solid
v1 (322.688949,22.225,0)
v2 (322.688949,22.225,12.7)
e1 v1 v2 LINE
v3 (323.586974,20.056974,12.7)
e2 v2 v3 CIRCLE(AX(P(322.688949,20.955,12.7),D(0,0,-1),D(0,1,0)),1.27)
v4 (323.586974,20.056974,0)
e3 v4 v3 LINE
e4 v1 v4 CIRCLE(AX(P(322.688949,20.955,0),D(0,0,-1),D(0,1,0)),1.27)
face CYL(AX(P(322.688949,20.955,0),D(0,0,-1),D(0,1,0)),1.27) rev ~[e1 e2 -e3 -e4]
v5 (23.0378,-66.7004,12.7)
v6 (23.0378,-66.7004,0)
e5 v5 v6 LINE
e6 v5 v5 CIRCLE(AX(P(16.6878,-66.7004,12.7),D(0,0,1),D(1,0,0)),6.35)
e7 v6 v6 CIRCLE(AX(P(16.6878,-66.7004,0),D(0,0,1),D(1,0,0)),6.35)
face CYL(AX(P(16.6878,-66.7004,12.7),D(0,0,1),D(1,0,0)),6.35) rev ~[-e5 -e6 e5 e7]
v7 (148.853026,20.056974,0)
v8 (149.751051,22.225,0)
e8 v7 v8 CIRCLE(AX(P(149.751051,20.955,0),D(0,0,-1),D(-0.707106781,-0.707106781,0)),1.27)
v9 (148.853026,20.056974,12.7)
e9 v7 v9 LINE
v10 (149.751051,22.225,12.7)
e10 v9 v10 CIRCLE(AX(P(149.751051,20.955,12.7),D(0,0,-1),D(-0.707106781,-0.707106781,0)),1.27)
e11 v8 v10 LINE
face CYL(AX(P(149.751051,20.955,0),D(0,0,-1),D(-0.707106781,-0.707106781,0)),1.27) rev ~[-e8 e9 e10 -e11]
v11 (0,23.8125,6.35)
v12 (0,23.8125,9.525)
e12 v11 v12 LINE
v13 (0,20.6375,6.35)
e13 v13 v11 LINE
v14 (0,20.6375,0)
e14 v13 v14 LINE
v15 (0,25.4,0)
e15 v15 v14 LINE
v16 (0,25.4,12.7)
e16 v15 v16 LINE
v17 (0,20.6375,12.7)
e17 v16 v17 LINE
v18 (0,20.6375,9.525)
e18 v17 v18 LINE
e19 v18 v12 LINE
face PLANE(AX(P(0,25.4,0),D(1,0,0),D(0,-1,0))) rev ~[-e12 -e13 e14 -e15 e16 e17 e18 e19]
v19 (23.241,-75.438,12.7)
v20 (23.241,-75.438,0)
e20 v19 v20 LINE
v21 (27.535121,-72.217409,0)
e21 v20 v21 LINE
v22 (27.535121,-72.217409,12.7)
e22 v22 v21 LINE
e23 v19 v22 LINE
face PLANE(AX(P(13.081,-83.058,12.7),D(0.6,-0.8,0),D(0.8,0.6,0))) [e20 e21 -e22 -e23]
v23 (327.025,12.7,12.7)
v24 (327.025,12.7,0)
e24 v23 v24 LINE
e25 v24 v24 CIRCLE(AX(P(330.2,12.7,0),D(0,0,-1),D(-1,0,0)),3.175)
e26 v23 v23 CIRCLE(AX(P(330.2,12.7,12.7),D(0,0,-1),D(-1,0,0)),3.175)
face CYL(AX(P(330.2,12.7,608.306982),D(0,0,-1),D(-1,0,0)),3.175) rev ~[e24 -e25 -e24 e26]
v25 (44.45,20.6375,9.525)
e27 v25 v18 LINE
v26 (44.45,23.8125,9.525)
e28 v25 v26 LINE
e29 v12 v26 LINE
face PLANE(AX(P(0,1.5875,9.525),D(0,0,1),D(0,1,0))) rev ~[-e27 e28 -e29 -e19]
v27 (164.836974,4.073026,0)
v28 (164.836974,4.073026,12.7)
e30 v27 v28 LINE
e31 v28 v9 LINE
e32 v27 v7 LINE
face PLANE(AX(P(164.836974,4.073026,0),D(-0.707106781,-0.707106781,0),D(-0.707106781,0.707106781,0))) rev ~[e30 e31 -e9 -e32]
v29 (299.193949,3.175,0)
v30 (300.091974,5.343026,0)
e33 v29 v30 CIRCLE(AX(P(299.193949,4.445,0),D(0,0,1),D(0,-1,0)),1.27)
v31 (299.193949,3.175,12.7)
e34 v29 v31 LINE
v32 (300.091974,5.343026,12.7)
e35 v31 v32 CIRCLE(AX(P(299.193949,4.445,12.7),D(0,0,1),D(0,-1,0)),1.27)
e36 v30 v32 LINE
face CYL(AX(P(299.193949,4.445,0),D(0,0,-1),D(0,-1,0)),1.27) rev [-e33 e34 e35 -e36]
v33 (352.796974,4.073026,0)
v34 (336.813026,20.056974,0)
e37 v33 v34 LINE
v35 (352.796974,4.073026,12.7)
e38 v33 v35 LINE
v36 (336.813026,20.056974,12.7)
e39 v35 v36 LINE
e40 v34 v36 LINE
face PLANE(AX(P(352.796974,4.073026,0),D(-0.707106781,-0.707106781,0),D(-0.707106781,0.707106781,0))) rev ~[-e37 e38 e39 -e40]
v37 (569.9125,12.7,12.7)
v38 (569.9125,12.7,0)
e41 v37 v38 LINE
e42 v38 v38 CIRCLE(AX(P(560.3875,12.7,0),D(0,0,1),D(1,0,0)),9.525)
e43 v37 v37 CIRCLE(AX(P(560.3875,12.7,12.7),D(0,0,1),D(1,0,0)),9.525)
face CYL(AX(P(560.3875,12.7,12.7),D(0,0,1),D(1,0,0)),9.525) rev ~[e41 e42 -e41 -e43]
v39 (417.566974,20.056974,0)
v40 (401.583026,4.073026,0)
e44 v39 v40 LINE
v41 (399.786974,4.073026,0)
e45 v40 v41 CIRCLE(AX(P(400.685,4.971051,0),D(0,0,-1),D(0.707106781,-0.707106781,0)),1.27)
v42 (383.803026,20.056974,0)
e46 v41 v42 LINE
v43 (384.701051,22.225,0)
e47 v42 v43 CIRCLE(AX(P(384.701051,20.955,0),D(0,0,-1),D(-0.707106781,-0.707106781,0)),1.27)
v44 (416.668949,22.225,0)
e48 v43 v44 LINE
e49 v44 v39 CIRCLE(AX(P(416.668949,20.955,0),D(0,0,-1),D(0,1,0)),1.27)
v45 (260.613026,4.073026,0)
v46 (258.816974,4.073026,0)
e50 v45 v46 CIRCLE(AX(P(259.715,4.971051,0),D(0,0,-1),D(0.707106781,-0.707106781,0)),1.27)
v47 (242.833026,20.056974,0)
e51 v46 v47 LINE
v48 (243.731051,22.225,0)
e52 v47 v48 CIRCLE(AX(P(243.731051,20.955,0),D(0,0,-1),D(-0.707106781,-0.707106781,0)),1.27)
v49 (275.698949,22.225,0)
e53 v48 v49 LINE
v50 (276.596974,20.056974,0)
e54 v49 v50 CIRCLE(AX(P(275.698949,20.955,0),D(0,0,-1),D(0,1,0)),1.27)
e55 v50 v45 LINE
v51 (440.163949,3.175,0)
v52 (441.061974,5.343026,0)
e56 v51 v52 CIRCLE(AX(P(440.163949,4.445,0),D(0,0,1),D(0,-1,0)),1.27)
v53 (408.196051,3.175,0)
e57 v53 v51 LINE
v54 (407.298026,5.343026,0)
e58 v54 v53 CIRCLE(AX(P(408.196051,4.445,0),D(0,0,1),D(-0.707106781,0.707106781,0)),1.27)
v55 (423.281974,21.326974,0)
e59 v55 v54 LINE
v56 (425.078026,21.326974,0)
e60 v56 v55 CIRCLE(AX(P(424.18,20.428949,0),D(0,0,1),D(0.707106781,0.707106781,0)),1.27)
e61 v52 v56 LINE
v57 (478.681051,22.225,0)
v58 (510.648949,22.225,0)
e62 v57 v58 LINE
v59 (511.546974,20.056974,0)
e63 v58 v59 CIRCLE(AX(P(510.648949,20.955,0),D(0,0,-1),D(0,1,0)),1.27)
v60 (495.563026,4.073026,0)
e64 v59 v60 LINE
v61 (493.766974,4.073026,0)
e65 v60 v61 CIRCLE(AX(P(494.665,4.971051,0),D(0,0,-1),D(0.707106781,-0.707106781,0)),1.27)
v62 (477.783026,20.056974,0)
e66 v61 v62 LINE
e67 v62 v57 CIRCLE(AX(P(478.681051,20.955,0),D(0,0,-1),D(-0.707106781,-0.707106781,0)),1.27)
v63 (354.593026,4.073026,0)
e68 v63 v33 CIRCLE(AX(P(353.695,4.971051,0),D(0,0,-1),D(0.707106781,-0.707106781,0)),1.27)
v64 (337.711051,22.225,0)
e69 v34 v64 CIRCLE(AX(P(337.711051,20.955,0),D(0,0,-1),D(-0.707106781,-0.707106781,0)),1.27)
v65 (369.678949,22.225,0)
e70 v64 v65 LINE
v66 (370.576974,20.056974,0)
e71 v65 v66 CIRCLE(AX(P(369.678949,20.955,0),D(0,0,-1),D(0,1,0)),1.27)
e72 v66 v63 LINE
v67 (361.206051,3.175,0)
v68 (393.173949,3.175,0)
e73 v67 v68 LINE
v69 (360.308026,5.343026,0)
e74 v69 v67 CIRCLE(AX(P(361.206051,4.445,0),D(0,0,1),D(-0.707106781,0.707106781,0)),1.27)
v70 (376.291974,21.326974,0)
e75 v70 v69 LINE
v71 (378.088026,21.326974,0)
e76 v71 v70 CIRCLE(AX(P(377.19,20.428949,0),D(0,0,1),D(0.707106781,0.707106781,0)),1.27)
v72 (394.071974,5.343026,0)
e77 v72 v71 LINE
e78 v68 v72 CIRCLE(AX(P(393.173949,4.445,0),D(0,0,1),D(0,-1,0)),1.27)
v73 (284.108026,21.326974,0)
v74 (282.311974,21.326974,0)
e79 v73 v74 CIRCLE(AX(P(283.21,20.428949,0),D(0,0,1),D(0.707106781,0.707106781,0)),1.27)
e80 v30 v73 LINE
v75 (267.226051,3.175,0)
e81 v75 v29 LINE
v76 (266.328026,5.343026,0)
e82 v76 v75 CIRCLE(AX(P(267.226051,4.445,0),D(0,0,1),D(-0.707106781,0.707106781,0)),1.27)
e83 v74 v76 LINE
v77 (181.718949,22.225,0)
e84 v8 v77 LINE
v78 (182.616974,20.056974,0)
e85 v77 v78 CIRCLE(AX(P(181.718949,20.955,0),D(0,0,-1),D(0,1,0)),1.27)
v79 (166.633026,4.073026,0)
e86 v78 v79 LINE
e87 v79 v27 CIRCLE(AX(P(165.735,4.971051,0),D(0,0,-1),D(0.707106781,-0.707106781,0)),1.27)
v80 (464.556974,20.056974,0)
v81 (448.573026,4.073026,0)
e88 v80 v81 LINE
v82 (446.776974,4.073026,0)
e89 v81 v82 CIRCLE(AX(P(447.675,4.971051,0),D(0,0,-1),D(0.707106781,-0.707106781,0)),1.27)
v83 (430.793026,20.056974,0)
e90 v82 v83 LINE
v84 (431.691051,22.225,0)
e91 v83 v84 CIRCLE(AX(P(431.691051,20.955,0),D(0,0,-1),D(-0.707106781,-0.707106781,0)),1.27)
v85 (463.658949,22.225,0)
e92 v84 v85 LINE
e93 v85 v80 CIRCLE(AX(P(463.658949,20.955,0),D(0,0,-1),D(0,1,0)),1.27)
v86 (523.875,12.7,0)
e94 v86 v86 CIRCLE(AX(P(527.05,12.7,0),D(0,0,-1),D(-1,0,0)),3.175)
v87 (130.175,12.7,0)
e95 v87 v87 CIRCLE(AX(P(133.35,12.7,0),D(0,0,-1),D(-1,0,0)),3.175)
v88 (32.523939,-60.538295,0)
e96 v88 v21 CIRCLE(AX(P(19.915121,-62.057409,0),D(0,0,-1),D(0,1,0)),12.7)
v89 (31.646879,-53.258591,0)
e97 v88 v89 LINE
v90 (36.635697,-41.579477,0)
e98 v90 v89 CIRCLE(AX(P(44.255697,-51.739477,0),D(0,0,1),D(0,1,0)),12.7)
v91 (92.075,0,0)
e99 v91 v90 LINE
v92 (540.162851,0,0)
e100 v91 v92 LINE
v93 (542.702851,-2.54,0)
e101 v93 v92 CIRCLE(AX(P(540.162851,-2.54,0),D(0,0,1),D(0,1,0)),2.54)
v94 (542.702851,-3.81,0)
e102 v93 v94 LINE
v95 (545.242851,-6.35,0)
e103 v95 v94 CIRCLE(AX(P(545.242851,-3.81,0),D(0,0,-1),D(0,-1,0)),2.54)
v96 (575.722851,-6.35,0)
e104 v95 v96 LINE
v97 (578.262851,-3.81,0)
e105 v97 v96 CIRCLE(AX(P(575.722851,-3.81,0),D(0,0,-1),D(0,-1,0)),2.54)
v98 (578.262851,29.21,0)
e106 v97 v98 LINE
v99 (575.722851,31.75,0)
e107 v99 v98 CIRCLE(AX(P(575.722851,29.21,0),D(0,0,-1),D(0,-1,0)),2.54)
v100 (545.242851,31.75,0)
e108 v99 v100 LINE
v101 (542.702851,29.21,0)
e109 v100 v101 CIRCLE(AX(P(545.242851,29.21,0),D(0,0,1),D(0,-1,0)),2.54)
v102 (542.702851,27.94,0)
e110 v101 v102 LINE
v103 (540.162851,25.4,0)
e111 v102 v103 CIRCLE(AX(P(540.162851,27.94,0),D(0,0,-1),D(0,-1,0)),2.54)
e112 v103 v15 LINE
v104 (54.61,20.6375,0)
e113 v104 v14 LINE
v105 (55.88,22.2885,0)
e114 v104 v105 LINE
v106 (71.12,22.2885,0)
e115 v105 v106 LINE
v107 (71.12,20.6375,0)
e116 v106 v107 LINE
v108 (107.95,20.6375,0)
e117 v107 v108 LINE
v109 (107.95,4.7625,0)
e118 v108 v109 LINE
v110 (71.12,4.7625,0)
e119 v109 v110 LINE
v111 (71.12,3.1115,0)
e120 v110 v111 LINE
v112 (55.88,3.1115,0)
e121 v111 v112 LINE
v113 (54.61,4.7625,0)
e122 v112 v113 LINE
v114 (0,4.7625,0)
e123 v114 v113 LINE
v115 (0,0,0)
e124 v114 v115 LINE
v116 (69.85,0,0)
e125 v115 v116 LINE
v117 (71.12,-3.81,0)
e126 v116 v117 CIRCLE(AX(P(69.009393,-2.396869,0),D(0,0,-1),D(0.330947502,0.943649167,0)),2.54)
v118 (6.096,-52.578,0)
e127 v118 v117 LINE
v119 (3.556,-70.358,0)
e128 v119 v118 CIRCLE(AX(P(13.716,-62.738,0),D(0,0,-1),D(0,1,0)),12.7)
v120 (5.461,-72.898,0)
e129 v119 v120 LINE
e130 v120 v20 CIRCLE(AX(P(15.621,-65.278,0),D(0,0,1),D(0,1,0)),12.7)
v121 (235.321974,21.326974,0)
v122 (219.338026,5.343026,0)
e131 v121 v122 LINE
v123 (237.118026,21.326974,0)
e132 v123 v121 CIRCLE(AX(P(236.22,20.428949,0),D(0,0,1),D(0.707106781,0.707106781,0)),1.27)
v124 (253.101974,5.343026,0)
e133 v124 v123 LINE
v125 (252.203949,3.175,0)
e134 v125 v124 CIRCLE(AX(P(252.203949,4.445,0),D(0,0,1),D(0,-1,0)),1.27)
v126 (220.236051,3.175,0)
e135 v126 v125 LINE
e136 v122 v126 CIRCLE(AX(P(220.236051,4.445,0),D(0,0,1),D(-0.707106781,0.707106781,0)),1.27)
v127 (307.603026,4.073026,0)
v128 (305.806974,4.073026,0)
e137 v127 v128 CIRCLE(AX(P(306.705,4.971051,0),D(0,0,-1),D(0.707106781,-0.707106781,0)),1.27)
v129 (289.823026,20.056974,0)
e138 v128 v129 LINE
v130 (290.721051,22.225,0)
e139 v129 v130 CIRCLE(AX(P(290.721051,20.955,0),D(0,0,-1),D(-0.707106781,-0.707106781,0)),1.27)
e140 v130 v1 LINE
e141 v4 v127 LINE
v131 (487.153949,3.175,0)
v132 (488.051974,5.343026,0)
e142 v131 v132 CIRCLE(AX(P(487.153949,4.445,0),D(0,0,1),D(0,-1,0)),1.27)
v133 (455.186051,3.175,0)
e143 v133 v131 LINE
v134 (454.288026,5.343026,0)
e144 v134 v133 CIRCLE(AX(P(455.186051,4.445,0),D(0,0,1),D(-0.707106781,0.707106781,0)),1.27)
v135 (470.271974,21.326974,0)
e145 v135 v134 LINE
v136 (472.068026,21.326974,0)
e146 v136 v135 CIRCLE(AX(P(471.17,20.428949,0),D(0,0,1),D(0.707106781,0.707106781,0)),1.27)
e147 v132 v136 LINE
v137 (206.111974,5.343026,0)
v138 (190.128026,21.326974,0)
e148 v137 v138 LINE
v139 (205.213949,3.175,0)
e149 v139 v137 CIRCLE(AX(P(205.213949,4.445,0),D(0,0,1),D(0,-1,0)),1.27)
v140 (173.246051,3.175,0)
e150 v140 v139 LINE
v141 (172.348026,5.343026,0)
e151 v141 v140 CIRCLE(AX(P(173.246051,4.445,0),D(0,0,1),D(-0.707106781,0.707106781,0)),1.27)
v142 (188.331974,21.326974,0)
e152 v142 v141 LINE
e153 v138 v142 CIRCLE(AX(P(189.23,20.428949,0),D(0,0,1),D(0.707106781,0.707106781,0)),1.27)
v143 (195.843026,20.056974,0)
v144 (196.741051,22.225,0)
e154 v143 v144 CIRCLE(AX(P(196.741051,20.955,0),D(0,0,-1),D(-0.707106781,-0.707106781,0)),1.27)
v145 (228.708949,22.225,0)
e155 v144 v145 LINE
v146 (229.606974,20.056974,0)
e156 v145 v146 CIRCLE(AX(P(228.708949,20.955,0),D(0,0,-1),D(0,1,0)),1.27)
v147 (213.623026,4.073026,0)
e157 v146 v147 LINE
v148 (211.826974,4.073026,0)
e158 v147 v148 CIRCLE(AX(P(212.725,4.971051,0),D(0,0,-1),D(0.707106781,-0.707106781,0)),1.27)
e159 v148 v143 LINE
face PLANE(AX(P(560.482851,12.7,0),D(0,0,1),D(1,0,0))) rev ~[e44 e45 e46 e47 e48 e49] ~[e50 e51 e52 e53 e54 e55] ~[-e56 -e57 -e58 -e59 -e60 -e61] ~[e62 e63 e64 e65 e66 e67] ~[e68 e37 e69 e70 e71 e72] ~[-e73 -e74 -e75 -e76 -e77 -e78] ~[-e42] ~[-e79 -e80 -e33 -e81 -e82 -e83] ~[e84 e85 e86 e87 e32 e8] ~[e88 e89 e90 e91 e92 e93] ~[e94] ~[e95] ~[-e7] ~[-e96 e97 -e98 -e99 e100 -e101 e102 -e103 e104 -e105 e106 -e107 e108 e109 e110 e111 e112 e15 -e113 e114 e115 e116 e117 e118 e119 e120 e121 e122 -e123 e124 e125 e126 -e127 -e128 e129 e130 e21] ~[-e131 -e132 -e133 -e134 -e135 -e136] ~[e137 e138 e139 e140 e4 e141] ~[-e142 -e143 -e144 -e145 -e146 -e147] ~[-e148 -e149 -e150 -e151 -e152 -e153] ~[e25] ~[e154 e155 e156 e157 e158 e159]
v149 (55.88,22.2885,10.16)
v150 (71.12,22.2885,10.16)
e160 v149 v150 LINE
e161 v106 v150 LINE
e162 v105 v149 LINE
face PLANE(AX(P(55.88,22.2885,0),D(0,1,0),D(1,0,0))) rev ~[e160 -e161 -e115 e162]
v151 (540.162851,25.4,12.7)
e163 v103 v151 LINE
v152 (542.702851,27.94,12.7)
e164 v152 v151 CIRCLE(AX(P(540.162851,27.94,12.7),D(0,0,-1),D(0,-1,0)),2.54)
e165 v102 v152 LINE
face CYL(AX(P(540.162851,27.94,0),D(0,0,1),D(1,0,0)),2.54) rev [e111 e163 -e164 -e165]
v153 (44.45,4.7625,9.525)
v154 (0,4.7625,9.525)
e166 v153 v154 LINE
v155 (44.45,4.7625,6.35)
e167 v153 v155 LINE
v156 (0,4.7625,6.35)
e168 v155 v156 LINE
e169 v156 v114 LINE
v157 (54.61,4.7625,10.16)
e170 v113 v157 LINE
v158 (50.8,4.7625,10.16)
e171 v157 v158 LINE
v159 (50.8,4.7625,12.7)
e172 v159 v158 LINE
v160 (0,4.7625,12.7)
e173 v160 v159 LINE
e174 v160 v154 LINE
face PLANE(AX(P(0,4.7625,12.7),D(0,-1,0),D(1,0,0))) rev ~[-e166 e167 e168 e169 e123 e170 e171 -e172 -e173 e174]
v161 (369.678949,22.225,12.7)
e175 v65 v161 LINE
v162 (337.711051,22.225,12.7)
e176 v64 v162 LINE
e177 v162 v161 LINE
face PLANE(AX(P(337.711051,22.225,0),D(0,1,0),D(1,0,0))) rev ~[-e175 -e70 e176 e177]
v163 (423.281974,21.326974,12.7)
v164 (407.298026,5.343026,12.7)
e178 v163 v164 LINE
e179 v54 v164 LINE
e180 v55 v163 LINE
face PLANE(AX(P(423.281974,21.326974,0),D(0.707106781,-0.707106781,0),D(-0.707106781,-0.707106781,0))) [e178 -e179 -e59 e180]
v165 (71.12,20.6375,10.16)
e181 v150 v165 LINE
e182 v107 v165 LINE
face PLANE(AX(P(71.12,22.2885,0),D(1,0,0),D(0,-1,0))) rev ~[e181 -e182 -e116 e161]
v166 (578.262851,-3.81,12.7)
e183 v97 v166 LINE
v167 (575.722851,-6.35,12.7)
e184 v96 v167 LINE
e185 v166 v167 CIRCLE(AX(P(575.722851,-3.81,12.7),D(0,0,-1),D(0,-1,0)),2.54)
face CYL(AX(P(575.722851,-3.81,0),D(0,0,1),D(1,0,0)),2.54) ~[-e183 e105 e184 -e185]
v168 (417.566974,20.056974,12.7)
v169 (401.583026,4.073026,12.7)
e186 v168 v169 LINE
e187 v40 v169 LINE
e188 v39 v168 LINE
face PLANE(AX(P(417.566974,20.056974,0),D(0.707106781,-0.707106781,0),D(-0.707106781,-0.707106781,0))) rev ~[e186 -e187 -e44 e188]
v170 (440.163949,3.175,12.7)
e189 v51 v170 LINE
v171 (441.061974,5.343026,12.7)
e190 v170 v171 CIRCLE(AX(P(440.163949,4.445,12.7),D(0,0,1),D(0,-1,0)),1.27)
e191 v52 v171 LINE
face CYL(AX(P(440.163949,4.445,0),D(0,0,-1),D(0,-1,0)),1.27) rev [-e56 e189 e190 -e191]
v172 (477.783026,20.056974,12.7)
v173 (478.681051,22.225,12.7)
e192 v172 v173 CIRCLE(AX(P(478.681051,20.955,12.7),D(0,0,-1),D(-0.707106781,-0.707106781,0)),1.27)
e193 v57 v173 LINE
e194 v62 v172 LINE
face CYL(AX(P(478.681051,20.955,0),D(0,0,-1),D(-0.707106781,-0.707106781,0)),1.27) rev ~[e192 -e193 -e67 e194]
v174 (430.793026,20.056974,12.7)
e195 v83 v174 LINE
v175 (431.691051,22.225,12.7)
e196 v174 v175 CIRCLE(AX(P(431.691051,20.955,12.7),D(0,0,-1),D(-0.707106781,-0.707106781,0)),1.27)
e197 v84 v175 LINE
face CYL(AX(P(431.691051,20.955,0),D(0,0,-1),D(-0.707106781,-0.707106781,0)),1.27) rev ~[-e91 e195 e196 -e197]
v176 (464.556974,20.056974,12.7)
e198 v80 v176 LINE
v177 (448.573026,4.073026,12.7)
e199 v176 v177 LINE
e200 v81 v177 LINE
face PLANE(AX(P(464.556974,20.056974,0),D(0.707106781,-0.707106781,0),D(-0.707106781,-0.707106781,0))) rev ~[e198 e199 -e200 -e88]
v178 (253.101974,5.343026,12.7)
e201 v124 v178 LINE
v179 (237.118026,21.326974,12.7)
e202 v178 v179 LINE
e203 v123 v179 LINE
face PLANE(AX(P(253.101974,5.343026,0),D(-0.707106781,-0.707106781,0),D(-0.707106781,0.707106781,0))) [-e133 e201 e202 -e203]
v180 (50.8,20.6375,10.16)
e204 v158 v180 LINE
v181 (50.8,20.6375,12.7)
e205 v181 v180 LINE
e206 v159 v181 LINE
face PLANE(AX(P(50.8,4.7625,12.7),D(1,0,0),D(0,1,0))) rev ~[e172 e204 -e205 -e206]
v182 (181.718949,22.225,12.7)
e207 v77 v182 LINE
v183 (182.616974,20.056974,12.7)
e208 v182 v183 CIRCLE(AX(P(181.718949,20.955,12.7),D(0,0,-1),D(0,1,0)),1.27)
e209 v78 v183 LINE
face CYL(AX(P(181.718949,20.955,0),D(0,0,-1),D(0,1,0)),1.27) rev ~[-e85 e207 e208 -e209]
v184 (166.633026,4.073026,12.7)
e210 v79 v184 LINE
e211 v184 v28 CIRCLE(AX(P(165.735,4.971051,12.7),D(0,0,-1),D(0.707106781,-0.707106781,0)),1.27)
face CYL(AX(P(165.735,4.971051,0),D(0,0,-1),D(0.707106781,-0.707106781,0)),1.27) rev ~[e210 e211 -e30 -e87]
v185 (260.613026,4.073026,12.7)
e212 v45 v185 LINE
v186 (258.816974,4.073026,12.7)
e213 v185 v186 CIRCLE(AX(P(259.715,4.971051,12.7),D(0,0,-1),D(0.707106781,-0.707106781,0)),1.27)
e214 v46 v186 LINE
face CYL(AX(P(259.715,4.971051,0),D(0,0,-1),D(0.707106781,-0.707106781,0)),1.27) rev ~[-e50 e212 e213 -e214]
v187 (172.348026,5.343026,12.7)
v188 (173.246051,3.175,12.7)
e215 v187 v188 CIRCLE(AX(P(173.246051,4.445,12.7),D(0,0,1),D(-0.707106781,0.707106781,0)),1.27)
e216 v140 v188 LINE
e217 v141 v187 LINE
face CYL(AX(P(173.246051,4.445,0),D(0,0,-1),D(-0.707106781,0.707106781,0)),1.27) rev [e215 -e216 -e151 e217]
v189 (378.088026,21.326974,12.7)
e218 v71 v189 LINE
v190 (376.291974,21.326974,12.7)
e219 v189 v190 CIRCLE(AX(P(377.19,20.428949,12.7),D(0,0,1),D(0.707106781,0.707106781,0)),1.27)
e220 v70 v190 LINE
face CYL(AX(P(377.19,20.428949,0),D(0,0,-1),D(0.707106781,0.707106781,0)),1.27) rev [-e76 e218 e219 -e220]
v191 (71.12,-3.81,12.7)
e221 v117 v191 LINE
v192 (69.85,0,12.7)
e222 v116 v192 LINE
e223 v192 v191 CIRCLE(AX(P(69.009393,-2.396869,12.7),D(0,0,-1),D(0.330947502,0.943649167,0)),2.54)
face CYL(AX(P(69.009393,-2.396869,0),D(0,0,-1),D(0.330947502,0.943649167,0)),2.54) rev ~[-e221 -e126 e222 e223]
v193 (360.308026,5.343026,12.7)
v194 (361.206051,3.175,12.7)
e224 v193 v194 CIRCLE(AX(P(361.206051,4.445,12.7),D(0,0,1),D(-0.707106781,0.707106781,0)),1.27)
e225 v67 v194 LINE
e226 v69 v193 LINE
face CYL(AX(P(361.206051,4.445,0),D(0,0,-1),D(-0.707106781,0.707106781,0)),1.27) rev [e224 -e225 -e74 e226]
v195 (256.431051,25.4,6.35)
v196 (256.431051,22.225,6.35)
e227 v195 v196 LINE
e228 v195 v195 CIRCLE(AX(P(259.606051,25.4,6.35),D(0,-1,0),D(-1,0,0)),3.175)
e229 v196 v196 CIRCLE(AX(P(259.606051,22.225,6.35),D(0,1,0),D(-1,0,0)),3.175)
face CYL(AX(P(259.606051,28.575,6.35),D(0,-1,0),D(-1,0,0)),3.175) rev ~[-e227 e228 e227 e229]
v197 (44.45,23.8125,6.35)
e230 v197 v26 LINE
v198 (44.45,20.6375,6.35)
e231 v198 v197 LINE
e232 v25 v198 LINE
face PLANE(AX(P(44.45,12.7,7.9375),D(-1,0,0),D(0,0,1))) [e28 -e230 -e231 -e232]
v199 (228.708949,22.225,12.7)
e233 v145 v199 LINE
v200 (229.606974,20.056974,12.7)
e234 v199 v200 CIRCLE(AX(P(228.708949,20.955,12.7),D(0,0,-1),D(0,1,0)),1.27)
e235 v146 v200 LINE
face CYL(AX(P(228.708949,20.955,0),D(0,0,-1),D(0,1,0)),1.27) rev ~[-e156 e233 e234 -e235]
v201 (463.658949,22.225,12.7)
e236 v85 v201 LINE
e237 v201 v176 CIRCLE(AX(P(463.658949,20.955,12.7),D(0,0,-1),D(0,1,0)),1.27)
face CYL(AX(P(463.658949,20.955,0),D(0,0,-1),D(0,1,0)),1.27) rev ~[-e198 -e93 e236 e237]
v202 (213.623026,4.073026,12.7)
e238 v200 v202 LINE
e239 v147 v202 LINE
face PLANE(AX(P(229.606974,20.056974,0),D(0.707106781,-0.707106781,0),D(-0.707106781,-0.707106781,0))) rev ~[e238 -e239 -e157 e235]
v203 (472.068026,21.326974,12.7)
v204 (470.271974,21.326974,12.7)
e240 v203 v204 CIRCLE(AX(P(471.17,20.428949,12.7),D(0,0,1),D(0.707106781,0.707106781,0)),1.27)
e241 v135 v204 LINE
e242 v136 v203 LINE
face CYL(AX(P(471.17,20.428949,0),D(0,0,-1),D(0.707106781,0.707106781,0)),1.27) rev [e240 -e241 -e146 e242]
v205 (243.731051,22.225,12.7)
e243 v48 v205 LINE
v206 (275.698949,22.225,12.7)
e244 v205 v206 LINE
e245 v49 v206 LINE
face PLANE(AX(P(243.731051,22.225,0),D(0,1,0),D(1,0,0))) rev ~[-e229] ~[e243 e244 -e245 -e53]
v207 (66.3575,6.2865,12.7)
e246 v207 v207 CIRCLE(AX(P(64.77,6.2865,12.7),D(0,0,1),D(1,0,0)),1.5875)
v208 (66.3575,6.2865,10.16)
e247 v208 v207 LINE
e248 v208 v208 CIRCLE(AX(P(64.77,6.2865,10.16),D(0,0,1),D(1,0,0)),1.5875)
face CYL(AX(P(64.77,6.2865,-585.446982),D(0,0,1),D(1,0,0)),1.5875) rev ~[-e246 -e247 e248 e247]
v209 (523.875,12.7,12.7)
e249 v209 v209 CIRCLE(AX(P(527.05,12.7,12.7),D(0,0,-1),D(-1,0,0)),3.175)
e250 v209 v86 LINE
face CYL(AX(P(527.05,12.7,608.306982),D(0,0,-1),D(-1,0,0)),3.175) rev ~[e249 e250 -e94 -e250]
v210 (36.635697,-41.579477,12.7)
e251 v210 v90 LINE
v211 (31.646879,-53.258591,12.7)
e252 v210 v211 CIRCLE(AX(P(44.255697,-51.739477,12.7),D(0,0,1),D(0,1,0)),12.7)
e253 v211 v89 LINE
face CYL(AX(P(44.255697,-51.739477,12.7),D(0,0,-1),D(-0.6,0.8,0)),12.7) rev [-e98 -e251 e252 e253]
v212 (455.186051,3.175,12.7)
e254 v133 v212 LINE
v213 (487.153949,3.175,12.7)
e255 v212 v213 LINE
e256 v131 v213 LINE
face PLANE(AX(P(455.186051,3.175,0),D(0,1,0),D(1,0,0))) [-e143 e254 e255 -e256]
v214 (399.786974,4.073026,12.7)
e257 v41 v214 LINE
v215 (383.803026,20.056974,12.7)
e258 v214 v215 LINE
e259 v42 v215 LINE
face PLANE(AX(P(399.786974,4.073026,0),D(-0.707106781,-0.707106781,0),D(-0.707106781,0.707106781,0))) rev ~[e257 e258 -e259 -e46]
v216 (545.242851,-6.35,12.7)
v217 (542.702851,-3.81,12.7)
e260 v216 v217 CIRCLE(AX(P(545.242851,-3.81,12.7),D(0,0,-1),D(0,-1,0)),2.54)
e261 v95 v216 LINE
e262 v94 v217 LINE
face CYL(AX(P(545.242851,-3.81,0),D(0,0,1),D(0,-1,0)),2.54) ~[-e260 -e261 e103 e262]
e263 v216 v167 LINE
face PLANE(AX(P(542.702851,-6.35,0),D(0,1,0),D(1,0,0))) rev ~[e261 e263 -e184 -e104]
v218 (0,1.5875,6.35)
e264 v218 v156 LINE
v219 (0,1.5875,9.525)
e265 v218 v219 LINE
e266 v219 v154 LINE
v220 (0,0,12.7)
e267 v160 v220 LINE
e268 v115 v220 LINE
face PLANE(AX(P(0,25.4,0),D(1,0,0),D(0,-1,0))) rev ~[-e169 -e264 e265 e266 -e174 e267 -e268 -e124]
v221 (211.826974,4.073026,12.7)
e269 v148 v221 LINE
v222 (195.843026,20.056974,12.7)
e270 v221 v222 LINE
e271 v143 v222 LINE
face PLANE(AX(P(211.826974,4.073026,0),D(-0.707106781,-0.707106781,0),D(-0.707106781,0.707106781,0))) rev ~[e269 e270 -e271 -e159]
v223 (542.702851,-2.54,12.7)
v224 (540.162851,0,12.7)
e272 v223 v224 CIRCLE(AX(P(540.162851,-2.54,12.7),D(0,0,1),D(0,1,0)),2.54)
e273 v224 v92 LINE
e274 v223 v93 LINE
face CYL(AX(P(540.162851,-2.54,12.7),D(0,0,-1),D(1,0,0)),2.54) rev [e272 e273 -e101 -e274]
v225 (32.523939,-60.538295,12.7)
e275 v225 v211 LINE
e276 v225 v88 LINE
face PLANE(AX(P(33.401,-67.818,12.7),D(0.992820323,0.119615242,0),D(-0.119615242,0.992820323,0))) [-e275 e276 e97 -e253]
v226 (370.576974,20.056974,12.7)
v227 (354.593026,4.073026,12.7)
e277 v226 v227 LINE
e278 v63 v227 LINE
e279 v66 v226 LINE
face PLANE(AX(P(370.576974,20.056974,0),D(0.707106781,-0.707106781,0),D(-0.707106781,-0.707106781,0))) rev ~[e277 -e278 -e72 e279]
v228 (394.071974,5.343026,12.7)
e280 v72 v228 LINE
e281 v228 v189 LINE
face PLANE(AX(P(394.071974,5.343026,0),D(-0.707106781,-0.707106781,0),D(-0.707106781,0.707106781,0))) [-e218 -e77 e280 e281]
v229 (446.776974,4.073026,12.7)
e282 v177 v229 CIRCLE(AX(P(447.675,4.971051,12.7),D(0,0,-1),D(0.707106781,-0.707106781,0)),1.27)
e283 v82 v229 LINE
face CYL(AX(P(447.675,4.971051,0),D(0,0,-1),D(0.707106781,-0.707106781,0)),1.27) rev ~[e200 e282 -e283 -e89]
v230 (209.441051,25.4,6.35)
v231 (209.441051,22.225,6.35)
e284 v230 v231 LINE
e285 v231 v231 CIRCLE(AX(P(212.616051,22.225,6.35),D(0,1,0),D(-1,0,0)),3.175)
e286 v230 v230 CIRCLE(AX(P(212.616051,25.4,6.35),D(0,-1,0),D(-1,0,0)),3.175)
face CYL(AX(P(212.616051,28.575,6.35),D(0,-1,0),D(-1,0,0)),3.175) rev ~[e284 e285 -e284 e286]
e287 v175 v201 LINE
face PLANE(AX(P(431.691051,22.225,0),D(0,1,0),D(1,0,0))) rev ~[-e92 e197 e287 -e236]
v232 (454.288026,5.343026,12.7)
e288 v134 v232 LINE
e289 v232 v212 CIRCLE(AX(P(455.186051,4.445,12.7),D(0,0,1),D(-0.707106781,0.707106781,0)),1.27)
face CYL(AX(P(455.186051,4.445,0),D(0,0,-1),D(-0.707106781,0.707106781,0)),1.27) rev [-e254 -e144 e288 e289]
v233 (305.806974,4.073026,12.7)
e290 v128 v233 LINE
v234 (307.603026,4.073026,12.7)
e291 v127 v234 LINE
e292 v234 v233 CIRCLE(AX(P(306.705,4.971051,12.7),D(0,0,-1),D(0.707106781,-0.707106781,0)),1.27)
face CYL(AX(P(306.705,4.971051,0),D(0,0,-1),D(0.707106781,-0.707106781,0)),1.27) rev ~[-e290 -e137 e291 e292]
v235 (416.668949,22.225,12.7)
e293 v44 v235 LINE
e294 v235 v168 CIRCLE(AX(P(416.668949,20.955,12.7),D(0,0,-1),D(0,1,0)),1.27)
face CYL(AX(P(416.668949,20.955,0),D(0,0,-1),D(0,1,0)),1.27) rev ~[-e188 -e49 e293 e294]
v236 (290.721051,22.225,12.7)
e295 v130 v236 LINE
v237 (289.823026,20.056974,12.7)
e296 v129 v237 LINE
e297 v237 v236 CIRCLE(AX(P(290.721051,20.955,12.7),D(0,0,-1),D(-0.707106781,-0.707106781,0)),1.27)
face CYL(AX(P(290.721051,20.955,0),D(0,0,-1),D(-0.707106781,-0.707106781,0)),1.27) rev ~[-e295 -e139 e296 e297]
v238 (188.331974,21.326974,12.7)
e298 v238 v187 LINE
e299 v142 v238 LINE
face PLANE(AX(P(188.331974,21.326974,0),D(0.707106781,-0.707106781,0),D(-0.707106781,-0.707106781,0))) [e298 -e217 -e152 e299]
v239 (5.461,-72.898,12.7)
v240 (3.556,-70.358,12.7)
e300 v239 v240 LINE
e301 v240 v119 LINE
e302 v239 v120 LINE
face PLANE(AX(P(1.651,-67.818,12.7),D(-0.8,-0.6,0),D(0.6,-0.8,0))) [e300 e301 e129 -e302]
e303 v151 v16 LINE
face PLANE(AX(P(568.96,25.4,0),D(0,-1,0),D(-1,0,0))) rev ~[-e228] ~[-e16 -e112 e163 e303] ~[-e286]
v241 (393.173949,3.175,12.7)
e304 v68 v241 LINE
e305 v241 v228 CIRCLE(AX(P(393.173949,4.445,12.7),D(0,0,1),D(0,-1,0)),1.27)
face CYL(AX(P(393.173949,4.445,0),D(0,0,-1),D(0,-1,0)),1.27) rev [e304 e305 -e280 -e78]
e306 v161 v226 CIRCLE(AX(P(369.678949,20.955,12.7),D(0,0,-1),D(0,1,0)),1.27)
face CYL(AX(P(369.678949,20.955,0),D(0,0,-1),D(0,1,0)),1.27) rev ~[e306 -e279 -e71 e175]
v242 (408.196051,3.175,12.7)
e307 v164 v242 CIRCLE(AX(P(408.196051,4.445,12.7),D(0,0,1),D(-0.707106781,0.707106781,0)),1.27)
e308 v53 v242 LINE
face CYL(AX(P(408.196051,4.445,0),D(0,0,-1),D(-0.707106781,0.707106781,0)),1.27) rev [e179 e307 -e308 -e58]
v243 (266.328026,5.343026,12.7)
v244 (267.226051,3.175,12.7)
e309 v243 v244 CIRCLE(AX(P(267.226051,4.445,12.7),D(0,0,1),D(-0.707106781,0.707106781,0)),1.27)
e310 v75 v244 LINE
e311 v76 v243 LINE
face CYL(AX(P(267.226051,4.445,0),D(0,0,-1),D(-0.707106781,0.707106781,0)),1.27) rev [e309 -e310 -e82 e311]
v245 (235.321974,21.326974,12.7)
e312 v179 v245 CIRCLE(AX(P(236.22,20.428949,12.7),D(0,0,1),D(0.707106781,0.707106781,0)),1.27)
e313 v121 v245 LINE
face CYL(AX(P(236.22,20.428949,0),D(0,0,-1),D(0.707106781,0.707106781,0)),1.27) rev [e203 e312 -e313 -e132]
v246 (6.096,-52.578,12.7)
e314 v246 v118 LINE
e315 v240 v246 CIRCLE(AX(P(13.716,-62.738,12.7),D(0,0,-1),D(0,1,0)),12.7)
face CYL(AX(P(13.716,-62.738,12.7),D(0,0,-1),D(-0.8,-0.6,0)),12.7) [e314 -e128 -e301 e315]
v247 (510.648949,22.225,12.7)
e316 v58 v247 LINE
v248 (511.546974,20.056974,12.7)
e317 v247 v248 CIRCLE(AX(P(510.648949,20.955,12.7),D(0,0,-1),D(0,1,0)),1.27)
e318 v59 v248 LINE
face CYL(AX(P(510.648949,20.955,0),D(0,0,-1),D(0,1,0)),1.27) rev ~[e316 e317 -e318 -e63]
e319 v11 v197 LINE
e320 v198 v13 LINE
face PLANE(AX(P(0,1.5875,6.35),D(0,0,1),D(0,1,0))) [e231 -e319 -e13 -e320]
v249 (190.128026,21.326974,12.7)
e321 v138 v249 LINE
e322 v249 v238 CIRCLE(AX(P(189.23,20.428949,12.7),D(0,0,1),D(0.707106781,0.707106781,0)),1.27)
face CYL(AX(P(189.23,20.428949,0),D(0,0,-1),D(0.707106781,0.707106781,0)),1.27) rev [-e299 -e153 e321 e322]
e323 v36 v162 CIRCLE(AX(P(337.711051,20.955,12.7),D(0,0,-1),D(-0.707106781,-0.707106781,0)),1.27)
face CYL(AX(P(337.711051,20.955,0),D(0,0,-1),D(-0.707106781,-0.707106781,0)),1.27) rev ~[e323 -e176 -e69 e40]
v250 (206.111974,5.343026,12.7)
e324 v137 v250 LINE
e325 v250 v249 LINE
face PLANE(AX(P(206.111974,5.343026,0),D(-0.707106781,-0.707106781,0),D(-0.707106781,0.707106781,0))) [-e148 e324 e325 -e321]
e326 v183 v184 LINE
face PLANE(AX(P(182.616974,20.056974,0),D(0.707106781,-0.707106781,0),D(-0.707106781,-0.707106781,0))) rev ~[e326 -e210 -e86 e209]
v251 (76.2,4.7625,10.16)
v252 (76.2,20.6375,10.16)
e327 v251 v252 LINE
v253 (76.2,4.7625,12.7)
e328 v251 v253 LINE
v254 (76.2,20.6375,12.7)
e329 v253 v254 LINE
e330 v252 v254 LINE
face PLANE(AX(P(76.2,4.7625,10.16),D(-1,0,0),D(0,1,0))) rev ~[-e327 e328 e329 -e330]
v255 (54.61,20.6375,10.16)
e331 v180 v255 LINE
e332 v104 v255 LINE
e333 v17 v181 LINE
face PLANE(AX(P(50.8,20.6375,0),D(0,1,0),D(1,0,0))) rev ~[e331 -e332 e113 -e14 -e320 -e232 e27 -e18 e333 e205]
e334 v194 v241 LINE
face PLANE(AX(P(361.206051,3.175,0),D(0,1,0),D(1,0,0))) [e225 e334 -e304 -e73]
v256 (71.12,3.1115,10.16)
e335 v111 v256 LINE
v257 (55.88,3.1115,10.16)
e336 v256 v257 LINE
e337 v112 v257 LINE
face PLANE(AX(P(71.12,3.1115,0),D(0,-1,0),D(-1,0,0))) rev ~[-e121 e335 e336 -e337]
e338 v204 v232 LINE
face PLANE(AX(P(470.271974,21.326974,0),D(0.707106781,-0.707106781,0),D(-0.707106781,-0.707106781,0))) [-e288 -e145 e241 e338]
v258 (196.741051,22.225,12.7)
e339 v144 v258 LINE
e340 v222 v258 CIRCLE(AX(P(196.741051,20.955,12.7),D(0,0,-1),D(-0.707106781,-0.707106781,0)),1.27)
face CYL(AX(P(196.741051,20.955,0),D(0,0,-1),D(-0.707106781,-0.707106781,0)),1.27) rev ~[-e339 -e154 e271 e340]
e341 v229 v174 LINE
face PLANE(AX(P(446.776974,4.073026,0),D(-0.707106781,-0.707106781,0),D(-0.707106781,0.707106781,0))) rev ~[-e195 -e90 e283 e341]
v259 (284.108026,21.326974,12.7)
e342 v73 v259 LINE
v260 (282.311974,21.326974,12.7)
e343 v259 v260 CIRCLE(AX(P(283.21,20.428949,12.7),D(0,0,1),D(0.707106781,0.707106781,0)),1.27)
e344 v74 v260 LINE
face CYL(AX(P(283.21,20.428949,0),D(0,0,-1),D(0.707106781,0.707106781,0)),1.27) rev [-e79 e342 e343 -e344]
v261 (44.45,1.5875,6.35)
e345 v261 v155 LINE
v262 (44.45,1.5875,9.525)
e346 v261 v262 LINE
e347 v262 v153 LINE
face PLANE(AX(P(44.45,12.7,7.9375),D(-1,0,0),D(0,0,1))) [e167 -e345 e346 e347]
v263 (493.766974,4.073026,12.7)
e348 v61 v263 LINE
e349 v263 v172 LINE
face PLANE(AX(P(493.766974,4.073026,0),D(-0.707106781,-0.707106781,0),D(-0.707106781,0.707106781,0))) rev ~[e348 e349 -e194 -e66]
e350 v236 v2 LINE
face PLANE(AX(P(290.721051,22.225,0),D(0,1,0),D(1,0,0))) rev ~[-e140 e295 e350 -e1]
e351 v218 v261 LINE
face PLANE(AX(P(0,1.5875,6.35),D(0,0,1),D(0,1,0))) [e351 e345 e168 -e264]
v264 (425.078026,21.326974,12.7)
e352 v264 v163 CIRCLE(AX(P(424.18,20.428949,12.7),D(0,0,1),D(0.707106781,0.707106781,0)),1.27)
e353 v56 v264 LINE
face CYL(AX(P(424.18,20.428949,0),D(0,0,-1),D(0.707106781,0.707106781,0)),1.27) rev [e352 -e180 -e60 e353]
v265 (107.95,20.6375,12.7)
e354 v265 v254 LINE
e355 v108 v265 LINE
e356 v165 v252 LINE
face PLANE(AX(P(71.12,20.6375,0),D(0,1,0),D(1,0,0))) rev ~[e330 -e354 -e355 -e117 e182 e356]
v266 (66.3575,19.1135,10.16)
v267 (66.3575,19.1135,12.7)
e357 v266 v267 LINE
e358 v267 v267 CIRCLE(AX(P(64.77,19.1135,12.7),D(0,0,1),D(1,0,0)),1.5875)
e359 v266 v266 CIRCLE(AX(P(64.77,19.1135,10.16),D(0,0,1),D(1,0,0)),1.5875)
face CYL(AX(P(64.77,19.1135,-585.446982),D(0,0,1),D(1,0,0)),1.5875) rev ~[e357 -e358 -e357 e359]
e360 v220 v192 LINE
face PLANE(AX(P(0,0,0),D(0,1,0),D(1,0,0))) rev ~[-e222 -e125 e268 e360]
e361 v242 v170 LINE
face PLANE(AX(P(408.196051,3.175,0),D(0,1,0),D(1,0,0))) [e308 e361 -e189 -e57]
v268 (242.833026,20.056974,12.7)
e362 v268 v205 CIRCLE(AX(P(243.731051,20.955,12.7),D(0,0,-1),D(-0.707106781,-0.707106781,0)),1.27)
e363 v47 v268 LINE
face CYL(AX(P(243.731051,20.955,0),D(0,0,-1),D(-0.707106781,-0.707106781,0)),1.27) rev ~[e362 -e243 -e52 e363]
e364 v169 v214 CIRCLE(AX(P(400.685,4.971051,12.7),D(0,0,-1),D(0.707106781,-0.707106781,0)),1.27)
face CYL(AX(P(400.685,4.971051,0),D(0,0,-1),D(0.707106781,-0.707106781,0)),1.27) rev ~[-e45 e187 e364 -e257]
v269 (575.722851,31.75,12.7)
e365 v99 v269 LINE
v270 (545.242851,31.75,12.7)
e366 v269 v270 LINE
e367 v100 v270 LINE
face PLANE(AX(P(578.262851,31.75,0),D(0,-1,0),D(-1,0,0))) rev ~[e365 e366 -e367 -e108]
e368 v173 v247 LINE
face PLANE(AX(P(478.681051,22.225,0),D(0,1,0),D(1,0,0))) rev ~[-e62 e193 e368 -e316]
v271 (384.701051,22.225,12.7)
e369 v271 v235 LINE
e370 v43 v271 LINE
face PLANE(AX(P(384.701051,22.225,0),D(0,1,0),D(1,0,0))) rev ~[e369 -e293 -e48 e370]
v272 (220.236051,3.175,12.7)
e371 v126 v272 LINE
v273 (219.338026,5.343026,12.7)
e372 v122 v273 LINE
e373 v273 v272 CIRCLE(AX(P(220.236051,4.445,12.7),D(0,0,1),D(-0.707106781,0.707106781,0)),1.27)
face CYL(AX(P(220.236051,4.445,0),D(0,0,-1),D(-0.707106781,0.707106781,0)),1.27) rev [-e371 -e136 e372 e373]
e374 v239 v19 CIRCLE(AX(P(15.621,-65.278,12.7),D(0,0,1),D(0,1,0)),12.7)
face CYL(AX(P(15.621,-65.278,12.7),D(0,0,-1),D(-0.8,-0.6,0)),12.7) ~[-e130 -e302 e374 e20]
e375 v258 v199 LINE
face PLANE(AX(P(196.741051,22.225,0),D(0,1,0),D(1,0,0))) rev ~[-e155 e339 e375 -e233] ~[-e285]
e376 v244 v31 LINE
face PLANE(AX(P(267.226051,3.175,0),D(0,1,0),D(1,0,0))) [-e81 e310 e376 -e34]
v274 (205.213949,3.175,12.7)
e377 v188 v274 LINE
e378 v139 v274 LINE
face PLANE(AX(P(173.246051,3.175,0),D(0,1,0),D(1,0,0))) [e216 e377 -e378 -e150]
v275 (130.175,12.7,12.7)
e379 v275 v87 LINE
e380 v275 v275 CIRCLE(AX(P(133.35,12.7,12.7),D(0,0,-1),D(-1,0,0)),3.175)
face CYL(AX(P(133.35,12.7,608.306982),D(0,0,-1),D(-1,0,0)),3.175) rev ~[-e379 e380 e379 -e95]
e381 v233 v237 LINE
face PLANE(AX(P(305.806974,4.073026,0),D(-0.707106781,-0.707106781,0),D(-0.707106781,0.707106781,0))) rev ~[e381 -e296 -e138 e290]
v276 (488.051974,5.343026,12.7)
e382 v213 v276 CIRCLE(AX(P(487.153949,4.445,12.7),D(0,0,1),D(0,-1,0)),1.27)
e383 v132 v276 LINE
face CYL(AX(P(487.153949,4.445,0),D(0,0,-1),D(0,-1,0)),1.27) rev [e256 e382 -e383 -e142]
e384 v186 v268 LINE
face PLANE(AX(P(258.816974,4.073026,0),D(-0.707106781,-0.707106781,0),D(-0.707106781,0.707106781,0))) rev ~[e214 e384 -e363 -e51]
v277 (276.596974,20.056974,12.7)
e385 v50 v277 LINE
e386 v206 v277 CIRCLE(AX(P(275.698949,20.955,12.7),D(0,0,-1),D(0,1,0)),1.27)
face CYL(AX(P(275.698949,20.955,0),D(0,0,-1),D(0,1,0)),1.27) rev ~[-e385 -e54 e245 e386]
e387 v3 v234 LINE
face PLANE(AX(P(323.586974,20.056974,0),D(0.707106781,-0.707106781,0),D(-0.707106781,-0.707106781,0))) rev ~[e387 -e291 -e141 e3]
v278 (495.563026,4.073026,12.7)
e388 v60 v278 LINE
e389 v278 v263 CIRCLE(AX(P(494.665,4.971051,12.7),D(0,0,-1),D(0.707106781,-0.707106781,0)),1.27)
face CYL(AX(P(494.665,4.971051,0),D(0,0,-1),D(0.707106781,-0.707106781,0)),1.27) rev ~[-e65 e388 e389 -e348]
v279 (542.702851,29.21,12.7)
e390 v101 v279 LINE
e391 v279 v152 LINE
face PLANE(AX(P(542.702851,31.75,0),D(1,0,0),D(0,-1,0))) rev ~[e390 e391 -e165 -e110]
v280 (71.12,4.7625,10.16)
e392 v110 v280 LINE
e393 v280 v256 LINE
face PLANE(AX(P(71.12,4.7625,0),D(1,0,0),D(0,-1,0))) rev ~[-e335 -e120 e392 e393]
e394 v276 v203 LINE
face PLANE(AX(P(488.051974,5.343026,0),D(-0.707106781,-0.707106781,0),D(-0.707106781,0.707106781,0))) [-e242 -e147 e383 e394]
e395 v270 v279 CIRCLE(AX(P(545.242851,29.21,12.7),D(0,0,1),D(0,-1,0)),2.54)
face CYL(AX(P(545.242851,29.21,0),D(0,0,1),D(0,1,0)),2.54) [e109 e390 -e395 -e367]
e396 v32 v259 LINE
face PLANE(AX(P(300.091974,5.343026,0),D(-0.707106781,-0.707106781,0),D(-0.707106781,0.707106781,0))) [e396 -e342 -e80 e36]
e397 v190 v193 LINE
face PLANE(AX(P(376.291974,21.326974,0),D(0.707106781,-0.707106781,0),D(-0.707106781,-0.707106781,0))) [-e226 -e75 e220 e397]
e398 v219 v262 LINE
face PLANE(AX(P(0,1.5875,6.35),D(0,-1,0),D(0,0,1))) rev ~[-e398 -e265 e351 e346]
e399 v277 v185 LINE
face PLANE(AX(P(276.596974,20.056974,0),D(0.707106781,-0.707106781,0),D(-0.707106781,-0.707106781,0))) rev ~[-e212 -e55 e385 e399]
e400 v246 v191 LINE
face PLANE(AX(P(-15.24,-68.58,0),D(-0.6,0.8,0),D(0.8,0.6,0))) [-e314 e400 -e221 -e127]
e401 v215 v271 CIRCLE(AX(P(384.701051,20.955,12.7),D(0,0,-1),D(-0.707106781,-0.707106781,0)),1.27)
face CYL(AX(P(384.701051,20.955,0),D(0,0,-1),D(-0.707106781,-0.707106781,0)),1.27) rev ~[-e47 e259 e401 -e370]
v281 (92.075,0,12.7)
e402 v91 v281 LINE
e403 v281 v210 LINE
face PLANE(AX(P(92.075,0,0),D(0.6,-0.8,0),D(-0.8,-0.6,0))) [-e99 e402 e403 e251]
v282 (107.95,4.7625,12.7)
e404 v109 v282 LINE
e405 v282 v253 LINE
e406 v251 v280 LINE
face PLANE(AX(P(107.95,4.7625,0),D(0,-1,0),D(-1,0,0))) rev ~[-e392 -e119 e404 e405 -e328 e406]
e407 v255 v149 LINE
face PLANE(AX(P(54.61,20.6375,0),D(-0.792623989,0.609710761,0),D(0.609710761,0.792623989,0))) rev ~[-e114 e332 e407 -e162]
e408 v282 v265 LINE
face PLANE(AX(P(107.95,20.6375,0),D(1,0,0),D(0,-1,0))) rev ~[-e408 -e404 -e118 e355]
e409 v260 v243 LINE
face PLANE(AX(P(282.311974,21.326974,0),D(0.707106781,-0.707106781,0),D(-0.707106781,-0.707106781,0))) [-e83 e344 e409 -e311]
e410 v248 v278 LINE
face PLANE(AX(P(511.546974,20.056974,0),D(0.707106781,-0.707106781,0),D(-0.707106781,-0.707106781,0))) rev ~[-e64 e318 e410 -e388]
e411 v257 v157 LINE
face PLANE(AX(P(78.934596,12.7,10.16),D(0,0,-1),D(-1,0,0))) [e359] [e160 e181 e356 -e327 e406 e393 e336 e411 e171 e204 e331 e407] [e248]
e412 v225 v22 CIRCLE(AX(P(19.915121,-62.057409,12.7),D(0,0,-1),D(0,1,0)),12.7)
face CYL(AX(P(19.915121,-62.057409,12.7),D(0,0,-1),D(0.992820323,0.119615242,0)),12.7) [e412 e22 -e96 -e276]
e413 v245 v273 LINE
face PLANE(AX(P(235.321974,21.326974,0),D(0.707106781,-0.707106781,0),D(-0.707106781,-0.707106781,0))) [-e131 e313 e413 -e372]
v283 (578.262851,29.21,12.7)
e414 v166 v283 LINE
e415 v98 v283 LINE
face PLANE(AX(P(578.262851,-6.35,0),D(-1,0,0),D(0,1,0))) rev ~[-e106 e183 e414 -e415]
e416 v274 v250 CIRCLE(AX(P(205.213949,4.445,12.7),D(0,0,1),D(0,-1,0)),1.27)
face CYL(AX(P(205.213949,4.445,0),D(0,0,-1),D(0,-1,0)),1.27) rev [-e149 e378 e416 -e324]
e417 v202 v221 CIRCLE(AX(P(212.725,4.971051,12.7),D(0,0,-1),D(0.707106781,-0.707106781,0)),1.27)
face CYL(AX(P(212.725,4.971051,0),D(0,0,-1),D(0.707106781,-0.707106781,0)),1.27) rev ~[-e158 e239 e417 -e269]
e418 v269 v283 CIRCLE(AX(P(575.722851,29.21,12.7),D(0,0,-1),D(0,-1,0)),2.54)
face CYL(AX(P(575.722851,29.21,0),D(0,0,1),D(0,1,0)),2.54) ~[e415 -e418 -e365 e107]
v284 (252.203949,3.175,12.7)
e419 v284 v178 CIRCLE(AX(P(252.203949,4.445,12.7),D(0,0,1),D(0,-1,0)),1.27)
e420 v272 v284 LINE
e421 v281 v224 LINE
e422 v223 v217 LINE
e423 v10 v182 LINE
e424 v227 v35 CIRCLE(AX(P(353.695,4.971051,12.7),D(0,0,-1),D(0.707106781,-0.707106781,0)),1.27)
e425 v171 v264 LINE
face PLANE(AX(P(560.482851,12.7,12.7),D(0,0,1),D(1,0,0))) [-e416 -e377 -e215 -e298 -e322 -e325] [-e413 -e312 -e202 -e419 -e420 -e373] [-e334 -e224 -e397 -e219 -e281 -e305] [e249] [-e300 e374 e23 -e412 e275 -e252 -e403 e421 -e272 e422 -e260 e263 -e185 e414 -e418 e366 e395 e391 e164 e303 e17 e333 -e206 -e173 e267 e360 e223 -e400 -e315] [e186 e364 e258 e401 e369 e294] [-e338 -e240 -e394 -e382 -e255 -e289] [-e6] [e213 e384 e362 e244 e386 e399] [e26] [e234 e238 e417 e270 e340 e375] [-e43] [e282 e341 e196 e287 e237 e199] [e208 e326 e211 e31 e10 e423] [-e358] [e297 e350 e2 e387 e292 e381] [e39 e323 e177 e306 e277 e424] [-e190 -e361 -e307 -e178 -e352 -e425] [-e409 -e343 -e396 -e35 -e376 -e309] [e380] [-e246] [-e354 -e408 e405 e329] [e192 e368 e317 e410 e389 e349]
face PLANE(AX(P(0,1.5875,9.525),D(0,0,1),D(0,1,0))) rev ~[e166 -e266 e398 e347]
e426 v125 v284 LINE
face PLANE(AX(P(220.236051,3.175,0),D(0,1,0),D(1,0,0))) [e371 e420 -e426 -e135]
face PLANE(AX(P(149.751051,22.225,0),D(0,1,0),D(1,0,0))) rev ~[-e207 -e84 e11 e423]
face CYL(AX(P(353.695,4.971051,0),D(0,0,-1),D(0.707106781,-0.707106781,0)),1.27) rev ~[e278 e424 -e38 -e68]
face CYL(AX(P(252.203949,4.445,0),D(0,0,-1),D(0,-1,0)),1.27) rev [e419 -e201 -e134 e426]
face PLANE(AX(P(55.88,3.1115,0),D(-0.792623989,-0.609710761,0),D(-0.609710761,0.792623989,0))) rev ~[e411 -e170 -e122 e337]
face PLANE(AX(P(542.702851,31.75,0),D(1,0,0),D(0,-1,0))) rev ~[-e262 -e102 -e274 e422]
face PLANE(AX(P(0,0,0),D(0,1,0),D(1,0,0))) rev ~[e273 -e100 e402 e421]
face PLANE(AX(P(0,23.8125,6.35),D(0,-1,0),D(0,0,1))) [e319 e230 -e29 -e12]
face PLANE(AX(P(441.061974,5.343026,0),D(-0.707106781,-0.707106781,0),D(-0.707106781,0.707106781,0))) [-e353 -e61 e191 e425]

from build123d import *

# Parameters (mm, degrees)
BOSS_EXTRUDE1_DEPTH             = 12.7
CUT_EXTRUDE1_DEPTH              = 12.7
LPATTERN1_COUNT                 = 7
LPATTERN1_PITCH                 = 46.99
CUT_EXTRUDE2_DEPTH              = 12.7
LPATTERN2_COUNT                 = 8
LPATTERN2_PITCH                 = 46.99
BOSS_EXTRUDE3_DEPTH             = 12.7
SKETCH14_R                      = 3.175
CUT_EXTRUDE5_DEPTH              = 577.697477019
SKETCH15_W                      = 50.8
SKETCH15_H                      = 15.875
CUT_EXTRUDE6_DEPTH              = 577.697477019
SKETCH16_W                      = 3.175
SKETCH16_H                      = 22.225
CUT_EXTRUDE7_DEPTH              = 44.45
CUT_EXTRUDE8_DEPTH              = 10.16
SKETCH18_W                      = 31.75
SKETCH18_H                      = 15.875
CUT_EXTRUDE9_DEPTH              = 2.54
F_1_8_0_125_DIAMETER_HOLE1_D    = 3.175
BOSS_EXTRUDE4_DEPTH             = 12.7
F_1_4_0_25_DIAMETER_HOLE1_D     = 6.35
F_1_4_0_25_DIAMETER_HOLE2_D     = 6.35
F_1_4_0_25_DIAMETER_HOLE2_DEPTH = 3.175
F_1_4_0_25_DIAMETER_HOLE2_TIP   = 1.907732465
CUT_EXTRUDE10_DEPTH             = 12.7
SKETCH28_R                      = 6.35
BOSS_EXTRUDE5_DEPTH             = 12.7
CUT_EXTRUDE11_DEPTH             = 12.7
FILLET1_R                       = 12.7
BOSS_EXTRUDE7_START             = -12.7
SKETCH30_R                      = 3.175
BOSS_EXTRUDE7_DEPTH             = 12.7
SKETCH31_R                      = 9.525
CUT_EXTRUDE12_DEPTH             = 12.7
FILLET2_R                       = 2.54
FILLET5_R                       = 2.54


with BuildPart() as part:
    # Sketch1 → Boss-Extrude1 (new body)
    with BuildSketch(Plane.XY):
        with BuildLine():
            Line((2.54, 0), (568.96, 0))
            ThreePointArc((568.96, 0), (570.756051224, 0.743948776), (571.5, 2.54))
            Line((571.5, 2.54), (571.5, 22.86))
            ThreePointArc((571.5, 22.86), (570.756051224, 24.656051224), (568.96, 25.4))
            Line((568.96, 25.4), (2.54, 25.4))
            Line((2.54, 25.4), (0, 25.4))
            Line((0, 25.4), (0, 22.86))
            Line((0, 22.86), (0, 2.54))
            Line((0, 2.54), (0, 0))
            Line((0, 0), (2.54, 0))
        make_face()
    extrude(amount=BOSS_EXTRUDE1_DEPTH)

    # Sketch2 → Cut-Extrude1 (cut)
    with BuildSketch(Plane.XY):
        with BuildLine():
            Line((173.246051224, 3.175), (205.213948776, 3.175))
            ThreePointArc((205.213948776, 3.175), (206.387275782, 3.958992041), (206.111974388, 5.343025612))
            Line((206.111974388, 5.343025612), (190.128025612, 21.326974388))
            ThreePointArc((190.128025612, 21.326974388), (189.23, 21.698948776), (188.331974388, 21.326974388))
            Line((188.331974388, 21.326974388), (172.348025612, 5.343025612))
            ThreePointArc((172.348025612, 5.343025612), (172.072724218, 3.958992041), (173.246051224, 3.175))
        make_face()
    cut_extrude1 = extrude(amount=CUT_EXTRUDE1_DEPTH, mode=Mode.SUBTRACT)

    # LPattern1: Cut-Extrude1 ×7, 1 skipped
    with Locations(*[(i * LPATTERN1_PITCH, 0, 0) for i in range(1, LPATTERN1_COUNT) if i not in (3,)]):
        add(cut_extrude1, mode=Mode.SUBTRACT)

    # Sketch3 → Cut-Extrude2 (cut)
    with BuildSketch(Plane.XY):
        with BuildLine():
            Line((149.751051224, 22.225), (181.718948776, 22.225))
            ThreePointArc((181.718948776, 22.225), (182.892275782, 21.441007959), (182.616974388, 20.056974388))
            Line((182.616974388, 20.056974388), (166.633025612, 4.073025612))
            ThreePointArc((166.633025612, 4.073025612), (165.735, 3.701051224), (164.836974388, 4.073025612))
            Line((164.836974388, 4.073025612), (148.853025612, 20.056974388))
            ThreePointArc((148.853025612, 20.056974388), (148.577724218, 21.441007959), (149.751051224, 22.225))
        make_face()
    cut_extrude2 = extrude(amount=CUT_EXTRUDE2_DEPTH, mode=Mode.SUBTRACT)

    # LPattern2: Cut-Extrude2 ×8
    with Locations(*[(i * LPATTERN2_PITCH, 0, 0) for i in range(1, LPATTERN2_COUNT)]):
        add(cut_extrude2, mode=Mode.SUBTRACT)

    # Sketch8 → Boss-Extrude3 (add)
    with BuildSketch(Plane.XY):
        Polygon((92.075, 0), (-9.525, -76.2), (-15.24, -68.58), (76.2, 0), align=None)
    extrude(amount=BOSS_EXTRUDE3_DEPTH)

    # Sketch14 → Cut-Extrude5 (cut, through all)
    with BuildSketch(Plane(origin=(0, 0, 0), x_dir=(-1, 0, 0), z_dir=(0, 0, -1))):
        with Locations((-560.3875, 12.7)):
            Circle(SKETCH14_R)
    extrude(amount=-CUT_EXTRUDE5_DEPTH, mode=Mode.SUBTRACT)

    # Sketch15 → Cut-Extrude6 (cut, through all)
    with BuildSketch(Plane.XY.offset(12.7)):
        with Locations((25.4, 12.7)):
            Rectangle(SKETCH15_W, SKETCH15_H)
    extrude(amount=-CUT_EXTRUDE6_DEPTH, mode=Mode.SUBTRACT)

    # Sketch16 → Cut-Extrude7 (cut)
    with BuildSketch(Plane.ZY):
        with Locations((7.9375, 12.7)):
            Rectangle(SKETCH16_W, SKETCH16_H)
    extrude(amount=-CUT_EXTRUDE7_DEPTH, mode=Mode.SUBTRACT)

    # Sketch17 → Cut-Extrude8 (cut)
    with BuildSketch(Plane.XY):
        Polygon((50.8, 20.6375), (54.61, 20.6375), (55.88, 22.2885), (71.12, 22.2885), (71.12, 20.6375), (107.95, 20.6375), (107.95, 4.7625), (71.12, 4.7625), (71.12, 3.1115), (55.88, 3.1115), (54.61, 4.7625), (50.8, 4.7625), align=None)
    extrude(amount=CUT_EXTRUDE8_DEPTH, mode=Mode.SUBTRACT)

    # Sketch18 → Cut-Extrude9 (cut)
    with BuildSketch(Plane(origin=(0, 0, 10.16), x_dir=(-1, 0, 0), z_dir=(0, 0, -1))):
        with Locations((-92.075, 12.7)):
            Rectangle(SKETCH18_W, SKETCH18_H)
    extrude(amount=-CUT_EXTRUDE9_DEPTH, mode=Mode.SUBTRACT)

    # 1/8 (0.125) Diameter Hole1 (through all)
    with Locations(Plane(origin=(0, 0, 10.16), x_dir=(-1, 0, 0), z_dir=(0, 0, -1))):
        with Locations((-64.77, 19.1135), (-64.77, 6.2865)):
            Hole(F_1_8_0_125_DIAMETER_HOLE1_D / 2)

    # Sketch21 → Boss-Extrude4 (add)
    with BuildSketch(Plane(origin=(0, 0, 0), x_dir=(-1, 0, 0), z_dir=(0, 0, -1))):
        with BuildLine():
            Line((-76.2, 0), (-69.85, 0))
            ThreePointArc((-69.85, 0), (-71.419048922, -1.593650359), (-71.12, -3.81))
            Line((-71.12, -3.81), (-76.2, 0))
        make_face()
    extrude(amount=-BOSS_EXTRUDE4_DEPTH)

    # 1/4 (0.25) Diameter Hole1 (through all)
    with Locations(Plane.XY.offset(12.7)):
        with Locations((133.35, 12.7), (330.2, 12.7), (527.05, 12.7)):
            Hole(F_1_4_0_25_DIAMETER_HOLE1_D / 2)

    # 1/4 (0.25) Diameter Hole2
    with Locations(Plane(origin=(0, 25.4, 0), x_dir=(1, 0, 0), z_dir=(0, 1, 0))):
        with Locations((212.616051224, -6.35), (259.606051224, -6.35)):
            Hole(F_1_4_0_25_DIAMETER_HOLE2_D / 2, depth=F_1_4_0_25_DIAMETER_HOLE2_DEPTH)
            with Locations((0, 0, -(F_1_4_0_25_DIAMETER_HOLE2_DEPTH + F_1_4_0_25_DIAMETER_HOLE2_TIP / 2))):  # 118° drill point
                Cone(0, F_1_4_0_25_DIAMETER_HOLE2_D / 2, F_1_4_0_25_DIAMETER_HOLE2_TIP, mode=Mode.SUBTRACT)

    # Sketch26 → Cut-Extrude10 (cut)
    with BuildSketch(Plane.XY.offset(12.7)):
        Polygon((-9.525, -76.2), (1.651, -67.818), (-0.254, -65.278), (-11.43, -73.66), align=None)
    extrude(amount=-CUT_EXTRUDE10_DEPTH, mode=Mode.SUBTRACT)

    # Sketch28 → Boss-Extrude5 (add)
    with BuildSketch(Plane.XY.offset(12.7)):
        Polygon((1.651, -67.818), (13.081, -83.058), (33.401, -67.818), (30.769818102, -45.978886423), align=None)
        with Locations((16.6878, -66.7004)):
            Circle(SKETCH28_R, mode=Mode.SUBTRACT)
    extrude(amount=-BOSS_EXTRUDE5_DEPTH)

    # Sketch29 → Cut-Extrude11 (cut)
    with BuildSketch(Plane.XY.offset(12.7)):
        Polygon((-15.24, -68.58), (-11.43, -73.66), (-0.254, -65.278), (-4.064, -60.198), align=None)
    extrude(amount=-CUT_EXTRUDE11_DEPTH, mode=Mode.SUBTRACT)

    # Fillet1
    fillet1_edges = [part.edges().sort_by_distance(p)[0] for p in [
        (30.769818102, -45.978886423, 6.35),
        (33.401, -67.818, 6.35),
        (13.081, -83.058, 6.35),
        (-4.064, -60.198, 6.35),
    ]]
    fillet(fillet1_edges, radius=FILLET1_R)

    # Sketch30 → Boss-Extrude7 (add)
    with BuildSketch(Plane.XY.offset(12.7).offset(BOSS_EXTRUDE7_START)):
        Polygon((578.262851122, 12.7), (578.262851122, 31.75), (542.702851122, 31.75), (542.702851122, 25.4), (542.702851122, 0), (542.702851122, -6.35), (578.262851122, -6.35), align=None)
        with Locations(Location((560.3875, 12.7, 0), (0, 0, 180))):
            Circle(SKETCH30_R, mode=Mode.SUBTRACT)
    extrude(amount=BOSS_EXTRUDE7_DEPTH)

    # Sketch31 → Cut-Extrude12 (cut)
    with BuildSketch(Plane.XY.offset(12.7)):
        with Locations((560.3875, 12.7)):
            Circle(SKETCH31_R)
    extrude(amount=-CUT_EXTRUDE12_DEPTH, mode=Mode.SUBTRACT)

    # Fillet2
    fillet2_edges = [part.edges().sort_by_distance(p)[0] for p in [
        (578.262851122, 31.75, 6.35),
        (578.262851122, -6.35, 6.35),
    ]]
    fillet(fillet2_edges, radius=FILLET2_R)

    # Fillet5
    fillet5_edges = [part.edges().sort_by_distance(p)[0] for p in [
        (542.702851122, 25.4, 6.35),
        (542.702851122, -6.35, 6.35),
        (542.702851122, 31.75, 6.35),
        (542.702851122, 0, 6.35),
    ]]
    fillet(fillet5_edges, radius=FILLET5_R)


solid = part.part
